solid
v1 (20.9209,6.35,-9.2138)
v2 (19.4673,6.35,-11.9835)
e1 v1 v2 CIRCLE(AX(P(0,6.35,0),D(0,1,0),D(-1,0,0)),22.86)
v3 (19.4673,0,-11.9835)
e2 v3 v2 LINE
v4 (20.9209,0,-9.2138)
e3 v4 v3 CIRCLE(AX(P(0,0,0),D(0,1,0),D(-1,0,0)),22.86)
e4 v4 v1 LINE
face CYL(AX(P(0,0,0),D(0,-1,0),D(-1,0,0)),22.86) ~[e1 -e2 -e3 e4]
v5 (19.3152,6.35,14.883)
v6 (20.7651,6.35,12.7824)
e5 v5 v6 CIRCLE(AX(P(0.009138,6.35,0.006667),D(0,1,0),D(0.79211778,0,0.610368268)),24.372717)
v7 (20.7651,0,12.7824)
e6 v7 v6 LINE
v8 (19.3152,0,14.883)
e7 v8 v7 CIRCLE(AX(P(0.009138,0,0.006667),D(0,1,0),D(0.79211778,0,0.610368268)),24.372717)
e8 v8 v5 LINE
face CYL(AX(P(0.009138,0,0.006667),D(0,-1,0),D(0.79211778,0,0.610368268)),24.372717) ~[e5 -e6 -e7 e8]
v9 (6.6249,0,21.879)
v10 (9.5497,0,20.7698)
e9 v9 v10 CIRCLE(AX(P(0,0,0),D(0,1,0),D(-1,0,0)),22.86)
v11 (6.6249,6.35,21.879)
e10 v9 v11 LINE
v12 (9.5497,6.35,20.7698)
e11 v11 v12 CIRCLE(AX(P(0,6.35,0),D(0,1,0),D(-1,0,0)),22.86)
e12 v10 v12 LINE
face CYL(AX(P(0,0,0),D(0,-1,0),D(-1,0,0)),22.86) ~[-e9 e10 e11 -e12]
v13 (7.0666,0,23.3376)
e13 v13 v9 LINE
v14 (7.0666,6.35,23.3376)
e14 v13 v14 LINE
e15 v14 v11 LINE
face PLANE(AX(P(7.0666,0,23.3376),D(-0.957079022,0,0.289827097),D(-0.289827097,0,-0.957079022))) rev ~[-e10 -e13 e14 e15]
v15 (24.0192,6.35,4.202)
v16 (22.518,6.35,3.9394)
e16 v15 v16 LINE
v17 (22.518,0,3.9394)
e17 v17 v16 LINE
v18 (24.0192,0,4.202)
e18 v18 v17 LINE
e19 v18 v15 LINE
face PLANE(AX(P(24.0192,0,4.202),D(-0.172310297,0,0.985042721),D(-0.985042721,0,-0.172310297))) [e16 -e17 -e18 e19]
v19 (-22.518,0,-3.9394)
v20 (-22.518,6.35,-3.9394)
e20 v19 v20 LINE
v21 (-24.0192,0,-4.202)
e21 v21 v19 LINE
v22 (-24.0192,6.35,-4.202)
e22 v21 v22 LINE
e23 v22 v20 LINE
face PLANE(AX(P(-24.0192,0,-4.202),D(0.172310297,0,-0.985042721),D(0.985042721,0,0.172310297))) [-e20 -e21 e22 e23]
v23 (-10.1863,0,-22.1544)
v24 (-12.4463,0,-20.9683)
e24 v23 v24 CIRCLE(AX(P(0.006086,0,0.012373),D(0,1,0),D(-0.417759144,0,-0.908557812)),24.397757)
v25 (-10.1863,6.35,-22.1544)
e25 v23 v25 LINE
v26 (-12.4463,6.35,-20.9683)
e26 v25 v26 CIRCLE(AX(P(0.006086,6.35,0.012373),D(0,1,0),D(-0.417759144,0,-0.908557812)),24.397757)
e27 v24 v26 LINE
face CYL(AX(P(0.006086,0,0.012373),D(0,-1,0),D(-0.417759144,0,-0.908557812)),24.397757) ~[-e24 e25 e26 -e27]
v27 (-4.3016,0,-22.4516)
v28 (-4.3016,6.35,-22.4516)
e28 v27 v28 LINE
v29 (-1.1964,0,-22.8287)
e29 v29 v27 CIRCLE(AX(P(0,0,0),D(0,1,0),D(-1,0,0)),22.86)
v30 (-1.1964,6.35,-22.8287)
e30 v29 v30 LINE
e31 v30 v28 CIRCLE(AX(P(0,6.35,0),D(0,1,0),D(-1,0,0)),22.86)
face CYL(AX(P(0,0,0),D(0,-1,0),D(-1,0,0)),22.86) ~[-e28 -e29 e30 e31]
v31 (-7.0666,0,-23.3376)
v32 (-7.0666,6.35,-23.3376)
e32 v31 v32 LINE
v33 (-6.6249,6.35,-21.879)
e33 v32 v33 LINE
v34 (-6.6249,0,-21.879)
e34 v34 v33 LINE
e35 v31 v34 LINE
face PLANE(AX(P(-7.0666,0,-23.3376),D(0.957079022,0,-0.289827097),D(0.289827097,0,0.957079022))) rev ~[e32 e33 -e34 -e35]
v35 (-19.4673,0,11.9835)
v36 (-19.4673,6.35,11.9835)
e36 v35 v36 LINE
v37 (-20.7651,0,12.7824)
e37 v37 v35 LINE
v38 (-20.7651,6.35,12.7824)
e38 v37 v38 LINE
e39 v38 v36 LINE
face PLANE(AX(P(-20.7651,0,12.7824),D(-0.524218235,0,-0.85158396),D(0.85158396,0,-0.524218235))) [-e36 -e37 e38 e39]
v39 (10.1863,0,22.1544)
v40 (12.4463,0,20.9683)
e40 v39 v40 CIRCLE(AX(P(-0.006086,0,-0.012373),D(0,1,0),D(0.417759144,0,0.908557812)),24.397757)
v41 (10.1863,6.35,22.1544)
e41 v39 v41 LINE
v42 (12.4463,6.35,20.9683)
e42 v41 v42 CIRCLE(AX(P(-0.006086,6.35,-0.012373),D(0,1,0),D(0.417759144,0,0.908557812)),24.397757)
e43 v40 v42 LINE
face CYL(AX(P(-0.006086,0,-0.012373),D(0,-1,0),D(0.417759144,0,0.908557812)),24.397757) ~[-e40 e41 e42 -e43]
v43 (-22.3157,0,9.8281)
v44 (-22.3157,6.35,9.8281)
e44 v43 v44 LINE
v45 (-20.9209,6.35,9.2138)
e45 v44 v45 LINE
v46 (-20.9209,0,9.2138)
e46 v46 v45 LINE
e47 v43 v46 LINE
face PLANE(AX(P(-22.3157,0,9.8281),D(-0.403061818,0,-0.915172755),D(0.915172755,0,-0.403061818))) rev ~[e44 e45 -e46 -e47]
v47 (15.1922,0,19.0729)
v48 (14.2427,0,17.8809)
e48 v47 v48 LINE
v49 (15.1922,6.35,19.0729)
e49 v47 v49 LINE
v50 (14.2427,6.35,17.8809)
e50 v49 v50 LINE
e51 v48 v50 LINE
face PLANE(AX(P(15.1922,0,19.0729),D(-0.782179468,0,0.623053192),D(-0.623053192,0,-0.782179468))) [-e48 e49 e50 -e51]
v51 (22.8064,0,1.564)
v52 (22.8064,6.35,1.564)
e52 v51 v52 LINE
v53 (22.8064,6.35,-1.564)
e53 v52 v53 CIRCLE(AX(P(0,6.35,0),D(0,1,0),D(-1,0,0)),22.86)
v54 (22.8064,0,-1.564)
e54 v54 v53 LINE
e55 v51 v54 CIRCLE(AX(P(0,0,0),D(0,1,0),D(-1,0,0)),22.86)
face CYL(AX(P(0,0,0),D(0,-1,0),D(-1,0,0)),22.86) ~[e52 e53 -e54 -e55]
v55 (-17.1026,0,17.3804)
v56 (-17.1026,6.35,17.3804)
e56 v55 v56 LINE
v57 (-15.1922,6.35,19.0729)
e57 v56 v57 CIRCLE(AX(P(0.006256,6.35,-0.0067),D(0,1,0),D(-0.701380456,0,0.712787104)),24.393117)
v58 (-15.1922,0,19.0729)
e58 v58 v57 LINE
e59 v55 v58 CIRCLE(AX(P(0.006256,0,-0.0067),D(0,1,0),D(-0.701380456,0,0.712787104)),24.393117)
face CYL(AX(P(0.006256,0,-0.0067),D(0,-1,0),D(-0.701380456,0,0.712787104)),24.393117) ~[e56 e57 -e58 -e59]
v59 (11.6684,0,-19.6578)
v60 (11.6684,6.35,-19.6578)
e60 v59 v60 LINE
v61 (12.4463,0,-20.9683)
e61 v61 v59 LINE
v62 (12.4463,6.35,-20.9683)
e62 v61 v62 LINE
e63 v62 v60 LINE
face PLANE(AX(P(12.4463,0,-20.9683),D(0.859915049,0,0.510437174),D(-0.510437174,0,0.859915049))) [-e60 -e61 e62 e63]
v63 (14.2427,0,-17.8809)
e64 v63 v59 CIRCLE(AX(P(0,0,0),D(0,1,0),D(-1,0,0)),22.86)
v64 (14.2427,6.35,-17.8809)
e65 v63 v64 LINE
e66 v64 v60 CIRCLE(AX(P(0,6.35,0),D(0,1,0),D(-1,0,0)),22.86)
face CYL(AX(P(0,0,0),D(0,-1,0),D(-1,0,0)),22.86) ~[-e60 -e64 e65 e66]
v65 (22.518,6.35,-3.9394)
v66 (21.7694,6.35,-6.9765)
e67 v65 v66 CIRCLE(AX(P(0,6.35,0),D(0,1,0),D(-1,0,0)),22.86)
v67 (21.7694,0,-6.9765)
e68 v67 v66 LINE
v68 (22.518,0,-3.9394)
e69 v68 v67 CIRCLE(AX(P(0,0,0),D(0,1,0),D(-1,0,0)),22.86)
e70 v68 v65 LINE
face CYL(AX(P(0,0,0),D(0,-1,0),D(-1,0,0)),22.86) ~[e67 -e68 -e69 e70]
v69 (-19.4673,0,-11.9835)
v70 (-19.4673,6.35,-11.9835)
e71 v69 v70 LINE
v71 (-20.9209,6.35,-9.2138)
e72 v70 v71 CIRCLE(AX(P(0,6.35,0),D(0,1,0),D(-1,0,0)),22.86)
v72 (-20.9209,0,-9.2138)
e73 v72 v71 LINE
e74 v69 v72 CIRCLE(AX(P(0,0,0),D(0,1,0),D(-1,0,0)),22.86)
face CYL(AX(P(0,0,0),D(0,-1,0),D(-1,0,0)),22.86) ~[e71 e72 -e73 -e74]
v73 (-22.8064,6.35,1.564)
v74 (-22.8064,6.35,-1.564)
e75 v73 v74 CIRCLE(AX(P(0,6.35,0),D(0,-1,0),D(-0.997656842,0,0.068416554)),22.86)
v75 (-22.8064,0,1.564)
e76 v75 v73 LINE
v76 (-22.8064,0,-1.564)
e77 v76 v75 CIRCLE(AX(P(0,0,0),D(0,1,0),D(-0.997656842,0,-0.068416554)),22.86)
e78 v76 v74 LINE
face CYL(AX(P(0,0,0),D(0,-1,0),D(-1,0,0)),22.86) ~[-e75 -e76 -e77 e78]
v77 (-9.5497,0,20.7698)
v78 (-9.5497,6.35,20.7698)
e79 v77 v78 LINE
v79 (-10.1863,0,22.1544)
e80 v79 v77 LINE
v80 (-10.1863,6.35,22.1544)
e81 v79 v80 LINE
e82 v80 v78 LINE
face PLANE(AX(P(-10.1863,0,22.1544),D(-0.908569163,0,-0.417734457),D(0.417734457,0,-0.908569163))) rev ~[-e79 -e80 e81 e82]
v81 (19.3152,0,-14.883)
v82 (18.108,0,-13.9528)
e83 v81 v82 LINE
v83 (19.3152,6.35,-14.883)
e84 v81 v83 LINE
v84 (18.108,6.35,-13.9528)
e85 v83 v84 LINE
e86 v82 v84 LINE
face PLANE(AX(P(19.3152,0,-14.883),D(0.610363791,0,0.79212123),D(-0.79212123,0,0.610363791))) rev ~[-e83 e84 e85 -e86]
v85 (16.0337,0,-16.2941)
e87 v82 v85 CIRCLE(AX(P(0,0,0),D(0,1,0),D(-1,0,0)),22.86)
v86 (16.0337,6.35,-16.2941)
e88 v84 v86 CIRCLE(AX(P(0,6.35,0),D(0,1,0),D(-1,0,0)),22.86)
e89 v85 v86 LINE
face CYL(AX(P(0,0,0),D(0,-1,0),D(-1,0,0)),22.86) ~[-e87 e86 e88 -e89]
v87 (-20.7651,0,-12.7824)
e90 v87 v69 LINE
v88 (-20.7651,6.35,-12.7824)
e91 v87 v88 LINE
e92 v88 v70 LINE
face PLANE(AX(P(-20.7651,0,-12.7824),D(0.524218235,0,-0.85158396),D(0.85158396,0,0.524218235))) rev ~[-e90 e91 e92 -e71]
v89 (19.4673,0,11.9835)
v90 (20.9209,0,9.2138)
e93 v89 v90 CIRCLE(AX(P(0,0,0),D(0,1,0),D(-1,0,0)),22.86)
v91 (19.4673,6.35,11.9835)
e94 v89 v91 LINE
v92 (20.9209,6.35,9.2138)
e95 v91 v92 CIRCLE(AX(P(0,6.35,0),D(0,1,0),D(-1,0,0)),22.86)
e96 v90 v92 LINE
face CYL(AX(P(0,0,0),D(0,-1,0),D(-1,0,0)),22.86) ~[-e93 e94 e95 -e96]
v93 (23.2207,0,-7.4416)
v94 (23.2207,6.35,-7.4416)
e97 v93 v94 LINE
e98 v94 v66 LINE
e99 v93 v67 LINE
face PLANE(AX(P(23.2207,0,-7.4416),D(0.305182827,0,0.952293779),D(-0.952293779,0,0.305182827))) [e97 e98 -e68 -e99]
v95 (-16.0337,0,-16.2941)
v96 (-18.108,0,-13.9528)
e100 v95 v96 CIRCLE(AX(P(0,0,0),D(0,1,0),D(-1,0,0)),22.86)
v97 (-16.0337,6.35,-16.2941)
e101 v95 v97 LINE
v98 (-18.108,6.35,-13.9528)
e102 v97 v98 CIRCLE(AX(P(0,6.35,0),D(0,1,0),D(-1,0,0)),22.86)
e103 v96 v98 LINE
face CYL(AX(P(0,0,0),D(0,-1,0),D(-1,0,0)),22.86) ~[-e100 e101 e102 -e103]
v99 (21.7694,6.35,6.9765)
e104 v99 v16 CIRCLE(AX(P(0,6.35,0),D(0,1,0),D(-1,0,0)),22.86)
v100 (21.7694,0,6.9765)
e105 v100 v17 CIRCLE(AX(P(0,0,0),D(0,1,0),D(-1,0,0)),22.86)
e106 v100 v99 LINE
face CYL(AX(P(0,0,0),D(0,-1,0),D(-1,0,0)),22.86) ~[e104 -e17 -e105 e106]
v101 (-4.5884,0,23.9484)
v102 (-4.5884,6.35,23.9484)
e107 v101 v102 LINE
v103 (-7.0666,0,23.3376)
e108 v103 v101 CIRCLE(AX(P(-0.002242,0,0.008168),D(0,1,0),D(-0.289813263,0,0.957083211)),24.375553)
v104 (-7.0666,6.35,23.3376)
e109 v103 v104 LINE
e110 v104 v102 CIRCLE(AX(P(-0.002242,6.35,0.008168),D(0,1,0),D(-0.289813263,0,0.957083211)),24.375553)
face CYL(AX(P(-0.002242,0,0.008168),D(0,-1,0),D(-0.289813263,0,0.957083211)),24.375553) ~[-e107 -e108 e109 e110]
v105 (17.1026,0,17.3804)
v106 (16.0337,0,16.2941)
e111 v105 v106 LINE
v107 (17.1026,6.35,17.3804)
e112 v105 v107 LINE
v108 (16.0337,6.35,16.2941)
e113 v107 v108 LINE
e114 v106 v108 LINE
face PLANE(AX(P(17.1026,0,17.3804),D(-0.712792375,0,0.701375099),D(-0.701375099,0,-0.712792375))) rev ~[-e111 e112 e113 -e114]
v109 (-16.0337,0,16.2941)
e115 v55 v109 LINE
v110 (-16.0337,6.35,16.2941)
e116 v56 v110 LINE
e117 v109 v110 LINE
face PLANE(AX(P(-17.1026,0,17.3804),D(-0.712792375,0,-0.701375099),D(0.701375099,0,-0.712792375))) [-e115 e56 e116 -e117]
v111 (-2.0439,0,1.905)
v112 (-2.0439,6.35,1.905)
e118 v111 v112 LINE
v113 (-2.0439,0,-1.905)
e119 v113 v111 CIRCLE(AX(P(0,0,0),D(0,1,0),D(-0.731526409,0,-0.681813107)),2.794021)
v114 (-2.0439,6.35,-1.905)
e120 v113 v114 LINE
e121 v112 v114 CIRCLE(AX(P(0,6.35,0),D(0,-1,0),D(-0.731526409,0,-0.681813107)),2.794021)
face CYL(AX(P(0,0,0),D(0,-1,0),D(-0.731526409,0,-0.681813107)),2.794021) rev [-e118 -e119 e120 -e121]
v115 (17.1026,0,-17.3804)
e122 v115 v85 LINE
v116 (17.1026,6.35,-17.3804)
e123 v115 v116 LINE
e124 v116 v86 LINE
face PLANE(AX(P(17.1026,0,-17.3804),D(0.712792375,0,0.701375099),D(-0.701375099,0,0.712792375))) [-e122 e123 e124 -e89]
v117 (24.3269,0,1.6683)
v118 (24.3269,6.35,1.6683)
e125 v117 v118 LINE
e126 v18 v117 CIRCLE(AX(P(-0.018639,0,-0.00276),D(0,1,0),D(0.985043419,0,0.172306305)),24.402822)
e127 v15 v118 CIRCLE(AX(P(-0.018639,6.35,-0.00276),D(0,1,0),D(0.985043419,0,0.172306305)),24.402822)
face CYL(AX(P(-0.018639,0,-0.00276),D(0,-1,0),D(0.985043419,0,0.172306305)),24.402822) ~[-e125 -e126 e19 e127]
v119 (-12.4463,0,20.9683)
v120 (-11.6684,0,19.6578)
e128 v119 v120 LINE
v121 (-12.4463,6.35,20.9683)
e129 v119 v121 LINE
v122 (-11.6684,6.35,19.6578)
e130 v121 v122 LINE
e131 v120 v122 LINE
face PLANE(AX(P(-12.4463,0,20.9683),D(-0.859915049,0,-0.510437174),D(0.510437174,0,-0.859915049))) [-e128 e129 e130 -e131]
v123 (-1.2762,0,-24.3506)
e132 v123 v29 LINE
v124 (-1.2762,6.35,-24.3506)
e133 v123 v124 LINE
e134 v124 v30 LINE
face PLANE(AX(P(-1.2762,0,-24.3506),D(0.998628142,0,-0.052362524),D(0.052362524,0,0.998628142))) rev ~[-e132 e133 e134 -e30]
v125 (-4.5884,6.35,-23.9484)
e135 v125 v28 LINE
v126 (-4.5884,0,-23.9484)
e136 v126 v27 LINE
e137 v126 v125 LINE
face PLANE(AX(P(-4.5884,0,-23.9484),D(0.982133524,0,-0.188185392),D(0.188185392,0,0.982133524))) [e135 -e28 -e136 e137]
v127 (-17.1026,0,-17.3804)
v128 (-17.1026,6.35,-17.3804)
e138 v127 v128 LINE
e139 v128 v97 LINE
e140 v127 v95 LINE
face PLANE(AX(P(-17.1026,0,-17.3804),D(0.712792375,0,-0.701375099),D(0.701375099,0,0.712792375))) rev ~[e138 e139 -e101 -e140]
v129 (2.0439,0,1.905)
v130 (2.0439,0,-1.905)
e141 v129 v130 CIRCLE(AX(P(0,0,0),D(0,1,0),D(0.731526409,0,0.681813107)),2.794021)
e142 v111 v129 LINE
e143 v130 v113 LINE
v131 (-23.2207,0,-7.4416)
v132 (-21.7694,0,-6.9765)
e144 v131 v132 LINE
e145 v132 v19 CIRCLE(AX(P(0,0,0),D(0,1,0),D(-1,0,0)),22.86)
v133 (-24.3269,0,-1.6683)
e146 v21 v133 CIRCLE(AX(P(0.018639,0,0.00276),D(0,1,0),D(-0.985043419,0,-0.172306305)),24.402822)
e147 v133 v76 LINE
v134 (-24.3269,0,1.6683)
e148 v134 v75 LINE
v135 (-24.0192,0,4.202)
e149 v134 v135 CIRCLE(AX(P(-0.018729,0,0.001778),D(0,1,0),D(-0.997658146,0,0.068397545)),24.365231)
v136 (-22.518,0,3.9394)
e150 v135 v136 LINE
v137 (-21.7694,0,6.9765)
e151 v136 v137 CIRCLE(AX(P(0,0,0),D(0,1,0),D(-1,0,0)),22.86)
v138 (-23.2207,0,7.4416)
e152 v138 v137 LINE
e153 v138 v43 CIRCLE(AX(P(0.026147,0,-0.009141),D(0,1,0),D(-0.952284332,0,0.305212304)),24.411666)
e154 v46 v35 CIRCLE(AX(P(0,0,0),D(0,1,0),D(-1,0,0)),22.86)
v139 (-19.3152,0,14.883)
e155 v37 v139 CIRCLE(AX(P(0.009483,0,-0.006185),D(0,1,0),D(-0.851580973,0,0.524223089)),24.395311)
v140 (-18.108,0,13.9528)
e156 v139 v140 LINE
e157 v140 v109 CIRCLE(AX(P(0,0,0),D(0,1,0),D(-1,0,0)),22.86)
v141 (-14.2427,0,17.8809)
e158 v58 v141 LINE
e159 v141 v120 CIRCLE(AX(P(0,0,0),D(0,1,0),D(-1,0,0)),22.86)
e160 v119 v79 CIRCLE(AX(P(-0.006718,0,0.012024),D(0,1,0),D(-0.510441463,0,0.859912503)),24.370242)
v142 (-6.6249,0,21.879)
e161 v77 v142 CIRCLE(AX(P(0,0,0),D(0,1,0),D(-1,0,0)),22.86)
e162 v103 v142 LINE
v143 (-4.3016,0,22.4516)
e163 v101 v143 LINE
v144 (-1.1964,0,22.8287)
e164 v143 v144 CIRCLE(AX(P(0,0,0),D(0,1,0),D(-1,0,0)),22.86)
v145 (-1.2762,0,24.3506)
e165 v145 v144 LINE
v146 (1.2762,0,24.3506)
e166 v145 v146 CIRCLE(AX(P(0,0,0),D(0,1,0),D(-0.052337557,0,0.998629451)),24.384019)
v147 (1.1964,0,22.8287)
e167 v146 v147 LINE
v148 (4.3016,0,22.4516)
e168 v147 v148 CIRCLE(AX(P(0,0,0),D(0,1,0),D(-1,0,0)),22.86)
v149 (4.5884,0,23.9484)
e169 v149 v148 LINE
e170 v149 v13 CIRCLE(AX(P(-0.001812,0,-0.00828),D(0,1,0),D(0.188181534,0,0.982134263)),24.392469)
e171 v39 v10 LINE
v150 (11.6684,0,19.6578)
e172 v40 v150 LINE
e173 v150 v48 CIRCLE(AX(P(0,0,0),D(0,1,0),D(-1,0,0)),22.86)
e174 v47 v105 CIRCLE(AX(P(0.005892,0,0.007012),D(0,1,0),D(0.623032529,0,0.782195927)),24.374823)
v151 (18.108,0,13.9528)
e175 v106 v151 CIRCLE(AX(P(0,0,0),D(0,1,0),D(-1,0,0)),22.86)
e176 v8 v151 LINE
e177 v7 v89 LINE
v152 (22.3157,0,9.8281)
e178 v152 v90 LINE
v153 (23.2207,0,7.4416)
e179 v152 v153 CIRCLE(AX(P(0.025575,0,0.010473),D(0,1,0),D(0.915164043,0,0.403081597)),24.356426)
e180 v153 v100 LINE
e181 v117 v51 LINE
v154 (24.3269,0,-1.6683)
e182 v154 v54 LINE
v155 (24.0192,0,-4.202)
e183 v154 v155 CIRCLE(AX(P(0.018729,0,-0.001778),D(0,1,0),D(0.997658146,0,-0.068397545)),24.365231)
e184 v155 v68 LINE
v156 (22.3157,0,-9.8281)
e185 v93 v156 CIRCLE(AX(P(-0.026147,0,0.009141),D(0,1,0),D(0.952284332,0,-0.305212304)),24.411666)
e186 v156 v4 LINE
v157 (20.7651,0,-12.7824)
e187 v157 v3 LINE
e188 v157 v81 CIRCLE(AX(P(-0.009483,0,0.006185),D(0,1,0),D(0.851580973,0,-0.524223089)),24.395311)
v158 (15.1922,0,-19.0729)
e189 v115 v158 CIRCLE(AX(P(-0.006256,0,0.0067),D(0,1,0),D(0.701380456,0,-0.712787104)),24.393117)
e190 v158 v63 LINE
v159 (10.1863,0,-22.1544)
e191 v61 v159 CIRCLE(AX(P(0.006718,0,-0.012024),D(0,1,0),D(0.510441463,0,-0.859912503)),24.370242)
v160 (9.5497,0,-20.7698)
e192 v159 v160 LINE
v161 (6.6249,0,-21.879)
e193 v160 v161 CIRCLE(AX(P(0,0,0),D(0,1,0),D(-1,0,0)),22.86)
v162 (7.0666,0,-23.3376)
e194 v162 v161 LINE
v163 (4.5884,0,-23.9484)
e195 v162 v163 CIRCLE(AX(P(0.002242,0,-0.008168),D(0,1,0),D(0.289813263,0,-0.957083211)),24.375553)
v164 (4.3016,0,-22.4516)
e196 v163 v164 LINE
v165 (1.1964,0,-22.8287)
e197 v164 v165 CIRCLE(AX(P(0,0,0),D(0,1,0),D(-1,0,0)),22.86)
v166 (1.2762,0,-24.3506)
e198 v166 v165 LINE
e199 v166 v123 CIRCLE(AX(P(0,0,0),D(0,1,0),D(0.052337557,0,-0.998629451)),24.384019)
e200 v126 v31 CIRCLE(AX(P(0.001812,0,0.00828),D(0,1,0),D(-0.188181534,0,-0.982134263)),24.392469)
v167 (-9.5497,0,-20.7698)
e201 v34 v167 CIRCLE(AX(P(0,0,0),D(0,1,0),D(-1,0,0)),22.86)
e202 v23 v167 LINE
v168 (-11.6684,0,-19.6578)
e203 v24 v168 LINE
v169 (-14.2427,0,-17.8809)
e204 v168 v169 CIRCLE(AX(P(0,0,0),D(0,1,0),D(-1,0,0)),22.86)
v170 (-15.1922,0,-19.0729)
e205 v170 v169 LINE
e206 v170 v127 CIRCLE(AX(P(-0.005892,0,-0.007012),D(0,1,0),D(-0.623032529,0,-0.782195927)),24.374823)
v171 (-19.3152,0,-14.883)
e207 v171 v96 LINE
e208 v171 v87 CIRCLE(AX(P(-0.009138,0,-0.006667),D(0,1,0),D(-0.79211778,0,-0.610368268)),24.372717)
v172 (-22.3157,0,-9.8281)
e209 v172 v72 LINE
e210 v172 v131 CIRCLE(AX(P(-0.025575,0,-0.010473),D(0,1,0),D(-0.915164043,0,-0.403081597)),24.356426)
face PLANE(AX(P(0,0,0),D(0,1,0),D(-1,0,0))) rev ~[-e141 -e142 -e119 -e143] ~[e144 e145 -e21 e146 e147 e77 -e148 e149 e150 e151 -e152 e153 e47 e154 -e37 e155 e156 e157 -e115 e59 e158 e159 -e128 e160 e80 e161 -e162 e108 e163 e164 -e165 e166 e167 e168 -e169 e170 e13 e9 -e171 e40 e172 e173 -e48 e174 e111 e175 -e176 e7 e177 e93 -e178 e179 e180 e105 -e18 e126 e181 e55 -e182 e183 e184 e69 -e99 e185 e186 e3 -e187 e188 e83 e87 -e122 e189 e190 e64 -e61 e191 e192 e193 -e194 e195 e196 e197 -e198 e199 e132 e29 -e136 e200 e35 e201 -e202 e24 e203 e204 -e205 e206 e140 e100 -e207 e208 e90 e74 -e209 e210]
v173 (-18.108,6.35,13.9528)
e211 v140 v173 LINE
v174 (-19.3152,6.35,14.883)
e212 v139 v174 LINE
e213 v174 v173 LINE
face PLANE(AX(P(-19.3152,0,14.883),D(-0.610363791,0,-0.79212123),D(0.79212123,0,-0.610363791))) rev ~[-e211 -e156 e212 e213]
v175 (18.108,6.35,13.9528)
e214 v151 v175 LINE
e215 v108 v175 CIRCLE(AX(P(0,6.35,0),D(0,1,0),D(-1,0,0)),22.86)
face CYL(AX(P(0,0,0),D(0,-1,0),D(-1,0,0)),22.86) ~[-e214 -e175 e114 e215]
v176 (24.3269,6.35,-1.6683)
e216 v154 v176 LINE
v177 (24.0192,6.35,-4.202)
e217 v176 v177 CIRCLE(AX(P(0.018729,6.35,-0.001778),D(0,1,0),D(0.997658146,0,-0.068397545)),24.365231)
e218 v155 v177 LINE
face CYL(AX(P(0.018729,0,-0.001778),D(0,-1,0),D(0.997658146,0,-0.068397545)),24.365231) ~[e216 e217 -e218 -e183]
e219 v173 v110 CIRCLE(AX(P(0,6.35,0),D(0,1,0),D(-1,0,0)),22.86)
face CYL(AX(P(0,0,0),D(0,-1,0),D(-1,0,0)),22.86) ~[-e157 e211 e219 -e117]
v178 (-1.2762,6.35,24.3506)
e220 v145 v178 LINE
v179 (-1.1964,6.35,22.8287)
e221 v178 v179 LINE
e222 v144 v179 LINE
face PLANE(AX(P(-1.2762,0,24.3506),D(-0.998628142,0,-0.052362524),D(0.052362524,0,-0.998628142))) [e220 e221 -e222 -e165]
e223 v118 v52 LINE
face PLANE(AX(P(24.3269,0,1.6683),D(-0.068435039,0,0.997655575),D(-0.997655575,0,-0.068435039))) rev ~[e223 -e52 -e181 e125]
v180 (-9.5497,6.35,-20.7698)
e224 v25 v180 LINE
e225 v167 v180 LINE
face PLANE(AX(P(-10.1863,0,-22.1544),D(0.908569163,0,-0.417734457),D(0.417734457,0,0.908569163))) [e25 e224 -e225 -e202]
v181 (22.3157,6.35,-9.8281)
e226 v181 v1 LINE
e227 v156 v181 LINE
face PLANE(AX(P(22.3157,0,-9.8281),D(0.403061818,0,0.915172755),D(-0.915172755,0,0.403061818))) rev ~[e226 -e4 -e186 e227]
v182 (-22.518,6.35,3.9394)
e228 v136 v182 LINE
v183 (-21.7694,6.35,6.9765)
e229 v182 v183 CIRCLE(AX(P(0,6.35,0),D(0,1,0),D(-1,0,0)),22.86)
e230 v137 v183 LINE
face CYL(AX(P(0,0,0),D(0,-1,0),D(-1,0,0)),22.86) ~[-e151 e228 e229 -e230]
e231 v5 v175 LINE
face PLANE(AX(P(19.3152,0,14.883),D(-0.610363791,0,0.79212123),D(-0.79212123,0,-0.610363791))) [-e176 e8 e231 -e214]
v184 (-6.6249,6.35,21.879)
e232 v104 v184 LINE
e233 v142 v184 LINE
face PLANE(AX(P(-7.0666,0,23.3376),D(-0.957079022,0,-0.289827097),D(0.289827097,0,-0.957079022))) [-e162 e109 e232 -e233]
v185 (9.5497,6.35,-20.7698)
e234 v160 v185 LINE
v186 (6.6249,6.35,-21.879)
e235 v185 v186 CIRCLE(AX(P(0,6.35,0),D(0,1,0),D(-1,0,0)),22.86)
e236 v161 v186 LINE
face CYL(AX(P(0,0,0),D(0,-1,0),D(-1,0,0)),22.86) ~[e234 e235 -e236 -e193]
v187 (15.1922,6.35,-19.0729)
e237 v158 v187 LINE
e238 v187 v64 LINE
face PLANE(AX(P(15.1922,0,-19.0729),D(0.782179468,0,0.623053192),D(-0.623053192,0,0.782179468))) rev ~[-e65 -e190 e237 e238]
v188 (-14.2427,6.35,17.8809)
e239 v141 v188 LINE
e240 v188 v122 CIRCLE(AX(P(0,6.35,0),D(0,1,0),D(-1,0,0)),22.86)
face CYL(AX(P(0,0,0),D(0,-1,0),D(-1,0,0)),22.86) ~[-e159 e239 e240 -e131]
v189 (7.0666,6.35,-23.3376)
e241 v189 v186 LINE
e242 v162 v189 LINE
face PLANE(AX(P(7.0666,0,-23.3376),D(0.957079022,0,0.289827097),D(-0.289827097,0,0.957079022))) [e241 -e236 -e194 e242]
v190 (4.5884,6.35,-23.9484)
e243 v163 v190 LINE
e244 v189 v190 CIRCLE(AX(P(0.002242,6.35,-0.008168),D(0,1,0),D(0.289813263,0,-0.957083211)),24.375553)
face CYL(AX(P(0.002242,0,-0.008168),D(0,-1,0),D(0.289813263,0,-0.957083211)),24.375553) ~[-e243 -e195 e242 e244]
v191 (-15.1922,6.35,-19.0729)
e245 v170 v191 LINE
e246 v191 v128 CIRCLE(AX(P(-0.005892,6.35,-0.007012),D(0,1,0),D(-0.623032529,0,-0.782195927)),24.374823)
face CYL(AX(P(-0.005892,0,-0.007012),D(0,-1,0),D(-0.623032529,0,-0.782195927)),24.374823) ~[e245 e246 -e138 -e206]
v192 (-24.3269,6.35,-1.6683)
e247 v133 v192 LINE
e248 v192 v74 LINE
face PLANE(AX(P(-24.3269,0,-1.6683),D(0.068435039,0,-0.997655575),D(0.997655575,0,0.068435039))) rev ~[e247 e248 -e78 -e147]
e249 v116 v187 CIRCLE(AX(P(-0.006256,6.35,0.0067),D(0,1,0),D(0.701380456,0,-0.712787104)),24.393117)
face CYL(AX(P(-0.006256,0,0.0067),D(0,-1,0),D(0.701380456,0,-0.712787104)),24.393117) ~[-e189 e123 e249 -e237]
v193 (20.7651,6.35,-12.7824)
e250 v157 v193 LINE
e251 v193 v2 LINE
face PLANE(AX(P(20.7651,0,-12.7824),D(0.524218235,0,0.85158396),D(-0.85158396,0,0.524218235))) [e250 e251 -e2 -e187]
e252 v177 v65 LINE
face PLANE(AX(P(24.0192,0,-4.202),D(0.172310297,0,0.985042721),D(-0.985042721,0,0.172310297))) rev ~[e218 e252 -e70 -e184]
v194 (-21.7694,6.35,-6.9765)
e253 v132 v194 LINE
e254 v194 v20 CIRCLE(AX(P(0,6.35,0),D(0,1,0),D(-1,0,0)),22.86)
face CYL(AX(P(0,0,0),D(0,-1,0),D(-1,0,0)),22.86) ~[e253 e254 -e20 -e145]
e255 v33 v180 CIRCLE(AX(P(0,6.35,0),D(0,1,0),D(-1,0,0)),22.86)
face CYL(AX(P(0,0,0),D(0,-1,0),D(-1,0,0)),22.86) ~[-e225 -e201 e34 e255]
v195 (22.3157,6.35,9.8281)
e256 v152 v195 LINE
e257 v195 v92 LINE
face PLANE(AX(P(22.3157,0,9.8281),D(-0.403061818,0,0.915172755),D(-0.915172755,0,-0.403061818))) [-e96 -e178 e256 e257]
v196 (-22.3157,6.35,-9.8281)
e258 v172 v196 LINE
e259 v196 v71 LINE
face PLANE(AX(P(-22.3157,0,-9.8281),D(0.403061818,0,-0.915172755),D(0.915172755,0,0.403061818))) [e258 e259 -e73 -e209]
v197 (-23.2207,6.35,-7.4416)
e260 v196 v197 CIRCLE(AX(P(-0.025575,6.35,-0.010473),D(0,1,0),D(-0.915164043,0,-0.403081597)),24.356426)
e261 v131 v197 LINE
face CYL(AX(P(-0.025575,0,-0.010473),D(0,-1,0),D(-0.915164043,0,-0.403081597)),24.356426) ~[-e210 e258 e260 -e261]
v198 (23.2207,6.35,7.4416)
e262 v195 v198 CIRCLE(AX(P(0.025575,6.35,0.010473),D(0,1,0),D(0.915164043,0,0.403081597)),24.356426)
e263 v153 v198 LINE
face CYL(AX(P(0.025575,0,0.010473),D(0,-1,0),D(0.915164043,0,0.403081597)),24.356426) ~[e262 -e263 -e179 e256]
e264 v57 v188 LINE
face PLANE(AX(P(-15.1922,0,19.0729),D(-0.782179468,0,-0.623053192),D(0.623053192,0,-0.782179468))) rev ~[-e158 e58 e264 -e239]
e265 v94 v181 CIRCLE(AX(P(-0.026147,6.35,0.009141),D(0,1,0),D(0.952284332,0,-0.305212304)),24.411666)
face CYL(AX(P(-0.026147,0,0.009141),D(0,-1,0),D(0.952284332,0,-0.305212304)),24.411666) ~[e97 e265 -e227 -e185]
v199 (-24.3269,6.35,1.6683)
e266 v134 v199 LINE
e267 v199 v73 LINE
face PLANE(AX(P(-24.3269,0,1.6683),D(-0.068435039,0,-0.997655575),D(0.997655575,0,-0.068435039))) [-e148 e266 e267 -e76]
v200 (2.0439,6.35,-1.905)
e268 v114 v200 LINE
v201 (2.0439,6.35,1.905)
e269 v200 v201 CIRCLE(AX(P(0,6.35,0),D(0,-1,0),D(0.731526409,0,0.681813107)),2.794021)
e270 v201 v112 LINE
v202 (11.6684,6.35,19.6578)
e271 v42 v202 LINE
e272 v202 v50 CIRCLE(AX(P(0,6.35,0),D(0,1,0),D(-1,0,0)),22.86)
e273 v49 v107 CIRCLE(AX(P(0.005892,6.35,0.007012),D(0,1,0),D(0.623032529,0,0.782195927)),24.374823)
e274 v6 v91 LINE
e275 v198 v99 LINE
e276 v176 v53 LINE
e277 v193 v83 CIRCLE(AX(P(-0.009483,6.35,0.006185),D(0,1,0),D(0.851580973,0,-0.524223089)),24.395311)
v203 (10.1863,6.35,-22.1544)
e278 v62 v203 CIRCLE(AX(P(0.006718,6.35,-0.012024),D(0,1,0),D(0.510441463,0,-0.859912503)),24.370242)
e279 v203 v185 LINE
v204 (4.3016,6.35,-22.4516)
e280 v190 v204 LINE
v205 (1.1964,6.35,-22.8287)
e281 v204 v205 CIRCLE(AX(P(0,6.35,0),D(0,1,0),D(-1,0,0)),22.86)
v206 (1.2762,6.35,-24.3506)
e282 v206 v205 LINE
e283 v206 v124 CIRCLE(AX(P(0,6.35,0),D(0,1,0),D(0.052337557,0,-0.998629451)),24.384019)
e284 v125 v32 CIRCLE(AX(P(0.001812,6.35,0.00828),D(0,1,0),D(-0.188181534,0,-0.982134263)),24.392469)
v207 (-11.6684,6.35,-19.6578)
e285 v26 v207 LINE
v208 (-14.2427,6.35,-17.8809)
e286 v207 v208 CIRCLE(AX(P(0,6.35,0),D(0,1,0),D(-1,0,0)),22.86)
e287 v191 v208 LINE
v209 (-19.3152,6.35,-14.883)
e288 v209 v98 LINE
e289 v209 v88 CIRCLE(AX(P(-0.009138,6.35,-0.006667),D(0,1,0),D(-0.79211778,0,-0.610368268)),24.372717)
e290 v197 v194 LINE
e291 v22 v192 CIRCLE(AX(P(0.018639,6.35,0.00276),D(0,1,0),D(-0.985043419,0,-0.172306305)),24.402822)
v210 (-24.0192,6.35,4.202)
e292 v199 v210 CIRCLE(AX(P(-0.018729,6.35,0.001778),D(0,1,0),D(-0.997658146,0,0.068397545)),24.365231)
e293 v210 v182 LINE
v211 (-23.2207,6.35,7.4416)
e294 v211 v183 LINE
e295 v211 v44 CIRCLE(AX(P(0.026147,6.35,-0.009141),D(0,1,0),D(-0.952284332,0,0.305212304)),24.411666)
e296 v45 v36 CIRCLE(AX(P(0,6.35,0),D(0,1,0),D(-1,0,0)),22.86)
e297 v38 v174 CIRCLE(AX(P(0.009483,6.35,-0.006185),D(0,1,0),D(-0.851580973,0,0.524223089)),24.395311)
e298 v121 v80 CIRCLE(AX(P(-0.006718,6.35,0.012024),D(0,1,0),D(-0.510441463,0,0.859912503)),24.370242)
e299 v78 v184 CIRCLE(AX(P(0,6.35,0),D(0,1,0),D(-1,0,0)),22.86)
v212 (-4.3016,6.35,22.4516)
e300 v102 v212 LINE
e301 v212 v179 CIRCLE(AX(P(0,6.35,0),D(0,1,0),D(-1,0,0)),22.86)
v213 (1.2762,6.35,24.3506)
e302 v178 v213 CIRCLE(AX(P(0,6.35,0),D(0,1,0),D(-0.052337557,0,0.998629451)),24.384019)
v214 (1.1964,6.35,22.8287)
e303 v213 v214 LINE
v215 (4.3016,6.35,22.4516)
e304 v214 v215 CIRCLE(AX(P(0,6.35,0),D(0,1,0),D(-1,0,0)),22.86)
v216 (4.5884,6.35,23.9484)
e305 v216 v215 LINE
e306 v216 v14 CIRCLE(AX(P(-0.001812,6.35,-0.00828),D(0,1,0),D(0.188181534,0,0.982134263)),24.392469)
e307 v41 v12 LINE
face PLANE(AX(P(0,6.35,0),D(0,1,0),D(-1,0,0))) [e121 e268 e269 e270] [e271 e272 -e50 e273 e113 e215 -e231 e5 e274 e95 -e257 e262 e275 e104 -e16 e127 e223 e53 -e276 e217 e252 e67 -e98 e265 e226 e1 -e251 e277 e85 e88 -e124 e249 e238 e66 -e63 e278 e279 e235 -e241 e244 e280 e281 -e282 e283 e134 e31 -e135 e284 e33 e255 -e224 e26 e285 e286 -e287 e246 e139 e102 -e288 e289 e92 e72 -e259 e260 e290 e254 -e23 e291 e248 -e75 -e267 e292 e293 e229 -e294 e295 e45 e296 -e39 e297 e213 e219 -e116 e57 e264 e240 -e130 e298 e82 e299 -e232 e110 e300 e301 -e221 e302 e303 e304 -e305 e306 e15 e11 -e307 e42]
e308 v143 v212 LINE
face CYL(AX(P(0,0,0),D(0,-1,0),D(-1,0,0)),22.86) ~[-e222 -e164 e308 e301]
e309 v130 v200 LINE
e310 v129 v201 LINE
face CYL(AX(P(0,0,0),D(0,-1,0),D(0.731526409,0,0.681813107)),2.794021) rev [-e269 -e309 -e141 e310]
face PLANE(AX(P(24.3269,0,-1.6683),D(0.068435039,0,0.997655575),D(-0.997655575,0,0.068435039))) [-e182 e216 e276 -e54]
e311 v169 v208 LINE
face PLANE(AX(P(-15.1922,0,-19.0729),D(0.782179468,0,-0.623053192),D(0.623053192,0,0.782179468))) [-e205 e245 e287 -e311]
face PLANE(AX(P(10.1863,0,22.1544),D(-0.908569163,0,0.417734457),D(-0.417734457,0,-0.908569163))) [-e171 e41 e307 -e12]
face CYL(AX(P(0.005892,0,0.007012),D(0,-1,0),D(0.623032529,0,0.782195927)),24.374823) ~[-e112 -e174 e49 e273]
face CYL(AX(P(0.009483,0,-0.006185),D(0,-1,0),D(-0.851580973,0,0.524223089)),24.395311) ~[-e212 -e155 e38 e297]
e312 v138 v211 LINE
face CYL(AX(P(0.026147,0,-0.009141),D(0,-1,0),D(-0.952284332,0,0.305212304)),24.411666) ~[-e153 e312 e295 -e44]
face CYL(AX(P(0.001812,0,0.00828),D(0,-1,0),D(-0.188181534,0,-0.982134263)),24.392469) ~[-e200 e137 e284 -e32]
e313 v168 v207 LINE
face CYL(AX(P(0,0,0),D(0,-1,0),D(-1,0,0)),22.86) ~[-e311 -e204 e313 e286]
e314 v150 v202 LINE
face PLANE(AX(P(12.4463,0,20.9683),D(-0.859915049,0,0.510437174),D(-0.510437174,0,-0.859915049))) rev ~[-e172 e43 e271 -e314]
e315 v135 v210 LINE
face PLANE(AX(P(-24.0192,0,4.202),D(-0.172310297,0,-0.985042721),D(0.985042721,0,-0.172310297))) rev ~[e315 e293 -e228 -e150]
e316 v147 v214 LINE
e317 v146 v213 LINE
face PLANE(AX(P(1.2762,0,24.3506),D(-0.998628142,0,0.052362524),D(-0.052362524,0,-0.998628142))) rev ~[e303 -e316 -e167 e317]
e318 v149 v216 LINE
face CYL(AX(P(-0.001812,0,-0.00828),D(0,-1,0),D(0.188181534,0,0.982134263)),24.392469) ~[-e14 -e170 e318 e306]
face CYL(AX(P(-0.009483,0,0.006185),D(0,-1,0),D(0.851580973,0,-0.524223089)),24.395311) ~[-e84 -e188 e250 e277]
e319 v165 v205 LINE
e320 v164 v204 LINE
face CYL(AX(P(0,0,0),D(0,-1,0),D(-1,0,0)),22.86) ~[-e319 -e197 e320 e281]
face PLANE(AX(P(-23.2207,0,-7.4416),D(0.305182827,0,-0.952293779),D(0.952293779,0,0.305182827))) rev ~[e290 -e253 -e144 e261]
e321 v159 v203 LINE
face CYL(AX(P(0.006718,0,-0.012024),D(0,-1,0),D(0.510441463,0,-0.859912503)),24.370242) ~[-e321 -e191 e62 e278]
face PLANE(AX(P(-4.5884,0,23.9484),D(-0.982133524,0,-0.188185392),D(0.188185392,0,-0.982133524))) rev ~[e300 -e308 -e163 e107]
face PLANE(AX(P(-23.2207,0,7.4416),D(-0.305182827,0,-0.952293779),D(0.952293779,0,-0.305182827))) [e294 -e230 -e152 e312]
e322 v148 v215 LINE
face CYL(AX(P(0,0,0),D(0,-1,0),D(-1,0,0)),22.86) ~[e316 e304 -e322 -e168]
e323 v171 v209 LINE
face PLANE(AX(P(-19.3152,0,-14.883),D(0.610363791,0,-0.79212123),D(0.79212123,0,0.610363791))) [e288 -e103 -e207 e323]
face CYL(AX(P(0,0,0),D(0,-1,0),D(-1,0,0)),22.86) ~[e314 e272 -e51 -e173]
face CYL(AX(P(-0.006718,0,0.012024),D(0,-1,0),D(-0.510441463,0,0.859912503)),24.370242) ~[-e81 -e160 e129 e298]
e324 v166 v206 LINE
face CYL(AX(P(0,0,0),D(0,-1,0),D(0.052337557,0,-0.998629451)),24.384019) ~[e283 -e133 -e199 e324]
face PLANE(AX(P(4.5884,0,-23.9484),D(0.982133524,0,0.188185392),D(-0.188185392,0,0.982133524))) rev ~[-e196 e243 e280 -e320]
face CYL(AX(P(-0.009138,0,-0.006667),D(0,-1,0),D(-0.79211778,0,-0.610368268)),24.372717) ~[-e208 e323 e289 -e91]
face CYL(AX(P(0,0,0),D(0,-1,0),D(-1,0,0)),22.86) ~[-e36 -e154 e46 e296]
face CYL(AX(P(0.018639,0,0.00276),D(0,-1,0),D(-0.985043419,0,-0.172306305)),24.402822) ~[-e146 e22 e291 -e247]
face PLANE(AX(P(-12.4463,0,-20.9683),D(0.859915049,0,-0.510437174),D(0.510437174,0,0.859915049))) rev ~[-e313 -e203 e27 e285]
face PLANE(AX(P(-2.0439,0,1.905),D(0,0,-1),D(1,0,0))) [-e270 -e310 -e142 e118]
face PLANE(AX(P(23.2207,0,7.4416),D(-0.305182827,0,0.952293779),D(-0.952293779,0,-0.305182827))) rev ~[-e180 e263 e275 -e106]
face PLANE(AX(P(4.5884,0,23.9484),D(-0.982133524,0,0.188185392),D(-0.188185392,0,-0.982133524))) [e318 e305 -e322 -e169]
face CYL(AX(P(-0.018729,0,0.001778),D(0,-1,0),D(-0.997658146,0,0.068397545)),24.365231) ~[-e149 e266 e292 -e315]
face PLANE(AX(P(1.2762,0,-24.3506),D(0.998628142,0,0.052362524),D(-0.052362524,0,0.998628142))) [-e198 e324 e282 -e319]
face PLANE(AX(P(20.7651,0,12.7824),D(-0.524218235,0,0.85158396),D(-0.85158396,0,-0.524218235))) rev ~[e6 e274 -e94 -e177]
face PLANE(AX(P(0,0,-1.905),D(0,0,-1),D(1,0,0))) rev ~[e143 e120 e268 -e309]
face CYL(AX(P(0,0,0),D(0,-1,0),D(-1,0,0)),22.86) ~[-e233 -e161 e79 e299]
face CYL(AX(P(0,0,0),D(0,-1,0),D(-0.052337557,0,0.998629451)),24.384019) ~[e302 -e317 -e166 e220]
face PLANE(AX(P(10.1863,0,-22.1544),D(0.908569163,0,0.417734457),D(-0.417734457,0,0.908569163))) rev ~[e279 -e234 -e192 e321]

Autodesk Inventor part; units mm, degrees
ref_plane "YZ Plane" through (0, 0, 0) normal (1, 0, 0) x (0, 1, 0)
ref_plane "XZ Plane" through (0, 0, 0) normal (0, 1, 0) x (-1, 0, 0)
ref_plane "XY Plane" through (0, 0, 0) normal (0, 0, 1) x (1, 0, 0)
sketch "Sketch1" plane through (0, 0, 0) normal (0, 1, 0) x (-1, 0, 0)
  circle A0 centre (0, 0) radius 22.86
  arc A1 (-1.2762, -24.3506) -> (1.2762, -24.3506) centre (0, 0) ccw
  line L0 (0, 0) -> (1.2762, -24.3506) construction
  line L1 (0, 0) -> (24.384, 0) construction
  line L2 (0, 0) -> (-1.2762, -24.3506) construction
  line L3 (1.2762, -24.3506) -> (1.1964, -22.8287)
  line L4 (-1.2762, -24.3506) -> (-1.1964, -22.8287)
  line L5 (0, 0) -> (7.0666, -23.3376) construction
  line L6 (7.0666, -23.3376) -> (6.6249, -21.879)
  arc A2 (4.5884, -23.9484) -> (7.0666, -23.3376) centre (0, 0) ccw
  line L7 (0, 0) -> (4.5884, -23.9484) construction
  line L8 (4.5884, -23.9484) -> (4.3016, -22.4516)
  circle A3 centre (0, 0) radius 22.86
  line L9 (0, 0) -> (12.4463, -20.9683) construction
  line L10 (12.4463, -20.9683) -> (11.6684, -19.6578)
  arc A4 (10.1863, -22.1544) -> (12.4463, -20.9683) centre (0, 0) ccw
  line L11 (0, 0) -> (10.1863, -22.1544) construction
  line L12 (10.1863, -22.1544) -> (9.5497, -20.7698)
  circle A5 centre (0, 0) radius 22.86
  line L13 (0, 0) -> (17.1026, -17.3804) construction
  line L14 (17.1026, -17.3804) -> (16.0337, -16.2941)
  arc A6 (15.1922, -19.0729) -> (17.1026, -17.3804) centre (0, 0) ccw
  line L15 (0, 0) -> (15.1922, -19.0729) construction
  line L16 (15.1922, -19.0729) -> (14.2427, -17.8809)
  circle A7 centre (0, 0) radius 22.86
  line L17 (0, 0) -> (20.7651, -12.7824) construction
  line L18 (20.7651, -12.7824) -> (19.4673, -11.9835)
  arc A8 (19.3152, -14.883) -> (20.7651, -12.7824) centre (0, 0) ccw
  line L19 (0, 0) -> (19.3152, -14.883) construction
  line L20 (19.3152, -14.883) -> (18.108, -13.9528)
  circle A9 centre (0, 0) radius 22.86
  line L21 (0, 0) -> (23.2207, -7.4416) construction
  line L22 (23.2207, -7.4416) -> (21.7694, -6.9765)
  arc A10 (22.3157, -9.8281) -> (23.2207, -7.4416) centre (0, 0) ccw
  line L23 (0, 0) -> (22.3157, -9.8281) construction
  line L24 (22.3157, -9.8281) -> (20.9209, -9.2138)
  circle A11 centre (0, 0) radius 22.86
  line L25 (0, 0) -> (24.3269, -1.6683) construction
  line L26 (24.3269, -1.6683) -> (22.8064, -1.564)
  arc A12 (24.0192, -4.202) -> (24.3269, -1.6683) centre (0, 0) ccw
  line L27 (0, 0) -> (24.0192, -4.202) construction
  line L28 (24.0192, -4.202) -> (22.518, -3.9394)
  circle A13 centre (0, 0) radius 22.86
  line L29 (0, 0) -> (24.0192, 4.202) construction
  line L30 (24.0192, 4.202) -> (22.518, 3.9394)
  arc A14 (24.3269, 1.6683) -> (24.0192, 4.202) centre (0, 0) ccw
  line L31 (0, 0) -> (24.3269, 1.6683) construction
  line L32 (24.3269, 1.6683) -> (22.8064, 1.564)
  circle A15 centre (0, 0) radius 22.86
  line L33 (0, 0) -> (22.3157, 9.8281) construction
  line L34 (22.3157, 9.8281) -> (20.9209, 9.2138)
  arc A16 (23.2207, 7.4416) -> (22.3157, 9.8281) centre (0, 0) ccw
  line L35 (0, 0) -> (23.2207, 7.4416) construction
  line L36 (23.2207, 7.4416) -> (21.7694, 6.9765)
  circle A17 centre (0, 0) radius 22.86
  line L37 (0, 0) -> (19.3152, 14.883) construction
  line L38 (19.3152, 14.883) -> (18.108, 13.9528)
  arc A18 (20.7651, 12.7824) -> (19.3152, 14.883) centre (0, 0) ccw
  line L39 (0, 0) -> (20.7651, 12.7824) construction
  line L40 (20.7651, 12.7824) -> (19.4673, 11.9835)
  circle A19 centre (0, 0) radius 22.86
  line L41 (0, 0) -> (15.1922, 19.0729) construction
  line L42 (15.1922, 19.0729) -> (14.2427, 17.8809)
  arc A20 (17.1026, 17.3804) -> (15.1922, 19.0729) centre (0, 0) ccw
  line L43 (0, 0) -> (17.1026, 17.3804) construction
  line L44 (17.1026, 17.3804) -> (16.0337, 16.2941)
  circle A21 centre (0, 0) radius 22.86
  line L45 (0, 0) -> (10.1863, 22.1544) construction
  line L46 (10.1863, 22.1544) -> (9.5497, 20.7698)
  arc A22 (12.4463, 20.9683) -> (10.1863, 22.1544) centre (0, 0) ccw
  line L47 (0, 0) -> (12.4463, 20.9683) construction
  line L48 (12.4463, 20.9683) -> (11.6684, 19.6578)
  circle A23 centre (0, 0) radius 22.86
  line L49 (0, 0) -> (4.5884, 23.9484) construction
  line L50 (4.5884, 23.9484) -> (4.3016, 22.4516)
  arc A24 (7.0666, 23.3376) -> (4.5884, 23.9484) centre (0, 0) ccw
  line L51 (0, 0) -> (7.0666, 23.3376) construction
  line L52 (7.0666, 23.3376) -> (6.6249, 21.879)
  circle A25 centre (0, 0) radius 22.86
  line L53 (0, 0) -> (-1.2762, 24.3506) construction
  line L54 (-1.2762, 24.3506) -> (-1.1964, 22.8287)
  arc A26 (1.2762, 24.3506) -> (-1.2762, 24.3506) centre (0, 0) ccw
  line L55 (0, 0) -> (1.2762, 24.3506) construction
  line L56 (1.2762, 24.3506) -> (1.1964, 22.8287)
  circle A27 centre (0, 0) radius 22.86
  line L57 (0, 0) -> (-7.0666, 23.3376) construction
  line L58 (-7.0666, 23.3376) -> (-6.6249, 21.879)
  arc A28 (-4.5884, 23.9484) -> (-7.0666, 23.3376) centre (0, 0) ccw
  line L59 (0, 0) -> (-4.5884, 23.9484) construction
  line L60 (-4.5884, 23.9484) -> (-4.3016, 22.4516)
  circle A29 centre (0, 0) radius 22.86
  line L61 (0, 0) -> (-12.4463, 20.9683) construction
  line L62 (-12.4463, 20.9683) -> (-11.6684, 19.6578)
  arc A30 (-10.1863, 22.1544) -> (-12.4463, 20.9683) centre (0, 0) ccw
  line L63 (0, 0) -> (-10.1863, 22.1544) construction
  line L64 (-10.1863, 22.1544) -> (-9.5497, 20.7698)
  circle A31 centre (0, 0) radius 22.86
  line L65 (0, 0) -> (-17.1026, 17.3804) construction
  line L66 (-17.1026, 17.3804) -> (-16.0337, 16.2941)
  arc A32 (-15.1922, 19.0729) -> (-17.1026, 17.3804) centre (0, 0) ccw
  line L67 (0, 0) -> (-15.1922, 19.0729) construction
  line L68 (-15.1922, 19.0729) -> (-14.2427, 17.8809)
  circle A33 centre (0, 0) radius 22.86
  line L69 (0, 0) -> (-20.7651, 12.7824) construction
  line L70 (-20.7651, 12.7824) -> (-19.4673, 11.9835)
  arc A34 (-19.3152, 14.883) -> (-20.7651, 12.7824) centre (0, 0) ccw
  line L71 (0, 0) -> (-19.3152, 14.883) construction
  line L72 (-19.3152, 14.883) -> (-18.108, 13.9528)
  circle A35 centre (0, 0) radius 22.86
  line L73 (0, 0) -> (-23.2207, 7.4416) construction
  line L74 (-23.2207, 7.4416) -> (-21.7694, 6.9765)
  arc A36 (-22.3157, 9.8281) -> (-23.2207, 7.4416) centre (0, 0) ccw
  line L75 (0, 0) -> (-22.3157, 9.8281) construction
  line L76 (-22.3157, 9.8281) -> (-20.9209, 9.2138)
  circle A37 centre (0, 0) radius 22.86
  line L77 (0, 0) -> (-24.3269, 1.6683) construction
  line L78 (-24.3269, 1.6683) -> (-22.8064, 1.564)
  arc A38 (-24.0192, 4.202) -> (-24.3269, 1.6683) centre (0, 0) ccw
  line L79 (0, 0) -> (-24.0192, 4.202) construction
  line L80 (-24.0192, 4.202) -> (-22.518, 3.9394)
  circle A39 centre (0, 0) radius 22.86
  line L81 (0, 0) -> (-24.0192, -4.202) construction
  line L82 (-24.0192, -4.202) -> (-22.518, -3.9394)
  arc A40 (-24.3269, -1.6683) -> (-24.0192, -4.202) centre (0, 0) ccw
  line L83 (0, 0) -> (-24.3269, -1.6683) construction
  line L84 (-24.3269, -1.6683) -> (-22.8064, -1.564)
  circle A41 centre (0, 0) radius 22.86
  line L85 (0, 0) -> (-22.3157, -9.8281) construction
  line L86 (-22.3157, -9.8281) -> (-20.9209, -9.2138)
  arc A42 (-23.2207, -7.4416) -> (-22.3157, -9.8281) centre (0, 0) ccw
  line L87 (0, 0) -> (-23.2207, -7.4416) construction
  line L88 (-23.2207, -7.4416) -> (-21.7694, -6.9765)
  circle A43 centre (0, 0) radius 22.86
  line L89 (0, 0) -> (-19.3152, -14.883) construction
  line L90 (-19.3152, -14.883) -> (-18.108, -13.9528)
  arc A44 (-20.7651, -12.7824) -> (-19.3152, -14.883) centre (0, 0) ccw
  line L91 (0, 0) -> (-20.7651, -12.7824) construction
  line L92 (-20.7651, -12.7824) -> (-19.4673, -11.9835)
  circle A45 centre (0, 0) radius 22.86
  line L93 (0, 0) -> (-15.1922, -19.0729) construction
  line L94 (-15.1922, -19.0729) -> (-14.2427, -17.8809)
  arc A46 (-17.1026, -17.3804) -> (-15.1922, -19.0729) centre (0, 0) ccw
  line L95 (0, 0) -> (-17.1026, -17.3804) construction
  line L96 (-17.1026, -17.3804) -> (-16.0337, -16.2941)
  circle A47 centre (0, 0) radius 22.86
  line L97 (0, 0) -> (-10.1863, -22.1544) construction
  line L98 (-10.1863, -22.1544) -> (-9.5497, -20.7698)
  arc A48 (-12.4463, -20.9683) -> (-10.1863, -22.1544) centre (0, 0) ccw
  line L99 (0, 0) -> (-12.4463, -20.9683) construction
  line L100 (-12.4463, -20.9683) -> (-11.6684, -19.6578)
  circle A49 centre (0, 0) radius 22.86
  line L101 (0, 0) -> (-4.5884, -23.9484) construction
  line L102 (-4.5884, -23.9484) -> (-4.3016, -22.4516)
  arc A50 (-7.0666, -23.3376) -> (-4.5884, -23.9484) centre (0, 0) ccw
  line L103 (0, 0) -> (-7.0666, -23.3376) construction
  line L104 (-7.0666, -23.3376) -> (-6.6249, -21.879)
  circle A51 centre (0, 0) radius 22.86
  line L105 (0, 0) -> (0, -1.905)
  line L106 (0, 0) -> (1.905, 0) construction
  line L107 (0, -1.905) -> (-2.0439, -1.905)
  line L108 (2.0439, 1.905) -> (-2.0439, 1.905)
  line L109 (-2.0439, -1.905) -> (2.0439, -1.905)
  line L110 (2.0439, 1.905) -> (-2.0439, -1.905) construction
  line L111 (-2.0439, 1.905) -> (2.0439, -1.905) construction
  arc A52 (2.0439, -1.905) -> (2.0439, 1.905) centre (0, 0) ccw
  arc A53 (-2.0439, 1.905) -> (-2.0439, -1.905) centre (0, 0) ccw
  dimension "d0" = 45.72
  dimension "d1" = 24.384
  dimension "d2" = 87
  dimension "d3" = 6
  dimension "d6" = 360
  dimension "d11" = 1.905
  dimension "d12" = 90
  dimension "d13" = 90
extrude "Extrusion1" add sketch "Sketch1" along normal blind 6.35 contours A0 | A0 L30 A14 L32 | L26 A12 L28 A0 | A0 L34 A16 L36 | L22 A10 L24 A0 | A0 L38 A18 L40 | L18 A8 L20 A0 | A0 L42 A20 L44 | L14 A6 L16 A0 | A0 L46 A22 L48 | L10 A4 L12 A0 | A0 L50 A24 L52 | L6 A2 L8 A0 | A0 L54 A26 L56 | L3 A1 L4 A0 | A0 L58 A28 L60 | L102 A50 L104 A0 | A0 L62 A30 L64 | L98 A48 L100 A0 | A0 L66 A32 L68 | L94 A46 L96 A0 | A0 L70 A34 L72 | L90 A44 L92 A0 | A0 L74 A36 L76 | L86 A42 L88 A0 | A0 L78 A38 L80 | L82 A40 L84 A0 | L107 A53 L108 A52 L109
extrude "Extrusion2" cut sketch "Sketch1" along normal blind 9.525 contours L107 A53 L108 A52 L109
properties part number "Wheel"
